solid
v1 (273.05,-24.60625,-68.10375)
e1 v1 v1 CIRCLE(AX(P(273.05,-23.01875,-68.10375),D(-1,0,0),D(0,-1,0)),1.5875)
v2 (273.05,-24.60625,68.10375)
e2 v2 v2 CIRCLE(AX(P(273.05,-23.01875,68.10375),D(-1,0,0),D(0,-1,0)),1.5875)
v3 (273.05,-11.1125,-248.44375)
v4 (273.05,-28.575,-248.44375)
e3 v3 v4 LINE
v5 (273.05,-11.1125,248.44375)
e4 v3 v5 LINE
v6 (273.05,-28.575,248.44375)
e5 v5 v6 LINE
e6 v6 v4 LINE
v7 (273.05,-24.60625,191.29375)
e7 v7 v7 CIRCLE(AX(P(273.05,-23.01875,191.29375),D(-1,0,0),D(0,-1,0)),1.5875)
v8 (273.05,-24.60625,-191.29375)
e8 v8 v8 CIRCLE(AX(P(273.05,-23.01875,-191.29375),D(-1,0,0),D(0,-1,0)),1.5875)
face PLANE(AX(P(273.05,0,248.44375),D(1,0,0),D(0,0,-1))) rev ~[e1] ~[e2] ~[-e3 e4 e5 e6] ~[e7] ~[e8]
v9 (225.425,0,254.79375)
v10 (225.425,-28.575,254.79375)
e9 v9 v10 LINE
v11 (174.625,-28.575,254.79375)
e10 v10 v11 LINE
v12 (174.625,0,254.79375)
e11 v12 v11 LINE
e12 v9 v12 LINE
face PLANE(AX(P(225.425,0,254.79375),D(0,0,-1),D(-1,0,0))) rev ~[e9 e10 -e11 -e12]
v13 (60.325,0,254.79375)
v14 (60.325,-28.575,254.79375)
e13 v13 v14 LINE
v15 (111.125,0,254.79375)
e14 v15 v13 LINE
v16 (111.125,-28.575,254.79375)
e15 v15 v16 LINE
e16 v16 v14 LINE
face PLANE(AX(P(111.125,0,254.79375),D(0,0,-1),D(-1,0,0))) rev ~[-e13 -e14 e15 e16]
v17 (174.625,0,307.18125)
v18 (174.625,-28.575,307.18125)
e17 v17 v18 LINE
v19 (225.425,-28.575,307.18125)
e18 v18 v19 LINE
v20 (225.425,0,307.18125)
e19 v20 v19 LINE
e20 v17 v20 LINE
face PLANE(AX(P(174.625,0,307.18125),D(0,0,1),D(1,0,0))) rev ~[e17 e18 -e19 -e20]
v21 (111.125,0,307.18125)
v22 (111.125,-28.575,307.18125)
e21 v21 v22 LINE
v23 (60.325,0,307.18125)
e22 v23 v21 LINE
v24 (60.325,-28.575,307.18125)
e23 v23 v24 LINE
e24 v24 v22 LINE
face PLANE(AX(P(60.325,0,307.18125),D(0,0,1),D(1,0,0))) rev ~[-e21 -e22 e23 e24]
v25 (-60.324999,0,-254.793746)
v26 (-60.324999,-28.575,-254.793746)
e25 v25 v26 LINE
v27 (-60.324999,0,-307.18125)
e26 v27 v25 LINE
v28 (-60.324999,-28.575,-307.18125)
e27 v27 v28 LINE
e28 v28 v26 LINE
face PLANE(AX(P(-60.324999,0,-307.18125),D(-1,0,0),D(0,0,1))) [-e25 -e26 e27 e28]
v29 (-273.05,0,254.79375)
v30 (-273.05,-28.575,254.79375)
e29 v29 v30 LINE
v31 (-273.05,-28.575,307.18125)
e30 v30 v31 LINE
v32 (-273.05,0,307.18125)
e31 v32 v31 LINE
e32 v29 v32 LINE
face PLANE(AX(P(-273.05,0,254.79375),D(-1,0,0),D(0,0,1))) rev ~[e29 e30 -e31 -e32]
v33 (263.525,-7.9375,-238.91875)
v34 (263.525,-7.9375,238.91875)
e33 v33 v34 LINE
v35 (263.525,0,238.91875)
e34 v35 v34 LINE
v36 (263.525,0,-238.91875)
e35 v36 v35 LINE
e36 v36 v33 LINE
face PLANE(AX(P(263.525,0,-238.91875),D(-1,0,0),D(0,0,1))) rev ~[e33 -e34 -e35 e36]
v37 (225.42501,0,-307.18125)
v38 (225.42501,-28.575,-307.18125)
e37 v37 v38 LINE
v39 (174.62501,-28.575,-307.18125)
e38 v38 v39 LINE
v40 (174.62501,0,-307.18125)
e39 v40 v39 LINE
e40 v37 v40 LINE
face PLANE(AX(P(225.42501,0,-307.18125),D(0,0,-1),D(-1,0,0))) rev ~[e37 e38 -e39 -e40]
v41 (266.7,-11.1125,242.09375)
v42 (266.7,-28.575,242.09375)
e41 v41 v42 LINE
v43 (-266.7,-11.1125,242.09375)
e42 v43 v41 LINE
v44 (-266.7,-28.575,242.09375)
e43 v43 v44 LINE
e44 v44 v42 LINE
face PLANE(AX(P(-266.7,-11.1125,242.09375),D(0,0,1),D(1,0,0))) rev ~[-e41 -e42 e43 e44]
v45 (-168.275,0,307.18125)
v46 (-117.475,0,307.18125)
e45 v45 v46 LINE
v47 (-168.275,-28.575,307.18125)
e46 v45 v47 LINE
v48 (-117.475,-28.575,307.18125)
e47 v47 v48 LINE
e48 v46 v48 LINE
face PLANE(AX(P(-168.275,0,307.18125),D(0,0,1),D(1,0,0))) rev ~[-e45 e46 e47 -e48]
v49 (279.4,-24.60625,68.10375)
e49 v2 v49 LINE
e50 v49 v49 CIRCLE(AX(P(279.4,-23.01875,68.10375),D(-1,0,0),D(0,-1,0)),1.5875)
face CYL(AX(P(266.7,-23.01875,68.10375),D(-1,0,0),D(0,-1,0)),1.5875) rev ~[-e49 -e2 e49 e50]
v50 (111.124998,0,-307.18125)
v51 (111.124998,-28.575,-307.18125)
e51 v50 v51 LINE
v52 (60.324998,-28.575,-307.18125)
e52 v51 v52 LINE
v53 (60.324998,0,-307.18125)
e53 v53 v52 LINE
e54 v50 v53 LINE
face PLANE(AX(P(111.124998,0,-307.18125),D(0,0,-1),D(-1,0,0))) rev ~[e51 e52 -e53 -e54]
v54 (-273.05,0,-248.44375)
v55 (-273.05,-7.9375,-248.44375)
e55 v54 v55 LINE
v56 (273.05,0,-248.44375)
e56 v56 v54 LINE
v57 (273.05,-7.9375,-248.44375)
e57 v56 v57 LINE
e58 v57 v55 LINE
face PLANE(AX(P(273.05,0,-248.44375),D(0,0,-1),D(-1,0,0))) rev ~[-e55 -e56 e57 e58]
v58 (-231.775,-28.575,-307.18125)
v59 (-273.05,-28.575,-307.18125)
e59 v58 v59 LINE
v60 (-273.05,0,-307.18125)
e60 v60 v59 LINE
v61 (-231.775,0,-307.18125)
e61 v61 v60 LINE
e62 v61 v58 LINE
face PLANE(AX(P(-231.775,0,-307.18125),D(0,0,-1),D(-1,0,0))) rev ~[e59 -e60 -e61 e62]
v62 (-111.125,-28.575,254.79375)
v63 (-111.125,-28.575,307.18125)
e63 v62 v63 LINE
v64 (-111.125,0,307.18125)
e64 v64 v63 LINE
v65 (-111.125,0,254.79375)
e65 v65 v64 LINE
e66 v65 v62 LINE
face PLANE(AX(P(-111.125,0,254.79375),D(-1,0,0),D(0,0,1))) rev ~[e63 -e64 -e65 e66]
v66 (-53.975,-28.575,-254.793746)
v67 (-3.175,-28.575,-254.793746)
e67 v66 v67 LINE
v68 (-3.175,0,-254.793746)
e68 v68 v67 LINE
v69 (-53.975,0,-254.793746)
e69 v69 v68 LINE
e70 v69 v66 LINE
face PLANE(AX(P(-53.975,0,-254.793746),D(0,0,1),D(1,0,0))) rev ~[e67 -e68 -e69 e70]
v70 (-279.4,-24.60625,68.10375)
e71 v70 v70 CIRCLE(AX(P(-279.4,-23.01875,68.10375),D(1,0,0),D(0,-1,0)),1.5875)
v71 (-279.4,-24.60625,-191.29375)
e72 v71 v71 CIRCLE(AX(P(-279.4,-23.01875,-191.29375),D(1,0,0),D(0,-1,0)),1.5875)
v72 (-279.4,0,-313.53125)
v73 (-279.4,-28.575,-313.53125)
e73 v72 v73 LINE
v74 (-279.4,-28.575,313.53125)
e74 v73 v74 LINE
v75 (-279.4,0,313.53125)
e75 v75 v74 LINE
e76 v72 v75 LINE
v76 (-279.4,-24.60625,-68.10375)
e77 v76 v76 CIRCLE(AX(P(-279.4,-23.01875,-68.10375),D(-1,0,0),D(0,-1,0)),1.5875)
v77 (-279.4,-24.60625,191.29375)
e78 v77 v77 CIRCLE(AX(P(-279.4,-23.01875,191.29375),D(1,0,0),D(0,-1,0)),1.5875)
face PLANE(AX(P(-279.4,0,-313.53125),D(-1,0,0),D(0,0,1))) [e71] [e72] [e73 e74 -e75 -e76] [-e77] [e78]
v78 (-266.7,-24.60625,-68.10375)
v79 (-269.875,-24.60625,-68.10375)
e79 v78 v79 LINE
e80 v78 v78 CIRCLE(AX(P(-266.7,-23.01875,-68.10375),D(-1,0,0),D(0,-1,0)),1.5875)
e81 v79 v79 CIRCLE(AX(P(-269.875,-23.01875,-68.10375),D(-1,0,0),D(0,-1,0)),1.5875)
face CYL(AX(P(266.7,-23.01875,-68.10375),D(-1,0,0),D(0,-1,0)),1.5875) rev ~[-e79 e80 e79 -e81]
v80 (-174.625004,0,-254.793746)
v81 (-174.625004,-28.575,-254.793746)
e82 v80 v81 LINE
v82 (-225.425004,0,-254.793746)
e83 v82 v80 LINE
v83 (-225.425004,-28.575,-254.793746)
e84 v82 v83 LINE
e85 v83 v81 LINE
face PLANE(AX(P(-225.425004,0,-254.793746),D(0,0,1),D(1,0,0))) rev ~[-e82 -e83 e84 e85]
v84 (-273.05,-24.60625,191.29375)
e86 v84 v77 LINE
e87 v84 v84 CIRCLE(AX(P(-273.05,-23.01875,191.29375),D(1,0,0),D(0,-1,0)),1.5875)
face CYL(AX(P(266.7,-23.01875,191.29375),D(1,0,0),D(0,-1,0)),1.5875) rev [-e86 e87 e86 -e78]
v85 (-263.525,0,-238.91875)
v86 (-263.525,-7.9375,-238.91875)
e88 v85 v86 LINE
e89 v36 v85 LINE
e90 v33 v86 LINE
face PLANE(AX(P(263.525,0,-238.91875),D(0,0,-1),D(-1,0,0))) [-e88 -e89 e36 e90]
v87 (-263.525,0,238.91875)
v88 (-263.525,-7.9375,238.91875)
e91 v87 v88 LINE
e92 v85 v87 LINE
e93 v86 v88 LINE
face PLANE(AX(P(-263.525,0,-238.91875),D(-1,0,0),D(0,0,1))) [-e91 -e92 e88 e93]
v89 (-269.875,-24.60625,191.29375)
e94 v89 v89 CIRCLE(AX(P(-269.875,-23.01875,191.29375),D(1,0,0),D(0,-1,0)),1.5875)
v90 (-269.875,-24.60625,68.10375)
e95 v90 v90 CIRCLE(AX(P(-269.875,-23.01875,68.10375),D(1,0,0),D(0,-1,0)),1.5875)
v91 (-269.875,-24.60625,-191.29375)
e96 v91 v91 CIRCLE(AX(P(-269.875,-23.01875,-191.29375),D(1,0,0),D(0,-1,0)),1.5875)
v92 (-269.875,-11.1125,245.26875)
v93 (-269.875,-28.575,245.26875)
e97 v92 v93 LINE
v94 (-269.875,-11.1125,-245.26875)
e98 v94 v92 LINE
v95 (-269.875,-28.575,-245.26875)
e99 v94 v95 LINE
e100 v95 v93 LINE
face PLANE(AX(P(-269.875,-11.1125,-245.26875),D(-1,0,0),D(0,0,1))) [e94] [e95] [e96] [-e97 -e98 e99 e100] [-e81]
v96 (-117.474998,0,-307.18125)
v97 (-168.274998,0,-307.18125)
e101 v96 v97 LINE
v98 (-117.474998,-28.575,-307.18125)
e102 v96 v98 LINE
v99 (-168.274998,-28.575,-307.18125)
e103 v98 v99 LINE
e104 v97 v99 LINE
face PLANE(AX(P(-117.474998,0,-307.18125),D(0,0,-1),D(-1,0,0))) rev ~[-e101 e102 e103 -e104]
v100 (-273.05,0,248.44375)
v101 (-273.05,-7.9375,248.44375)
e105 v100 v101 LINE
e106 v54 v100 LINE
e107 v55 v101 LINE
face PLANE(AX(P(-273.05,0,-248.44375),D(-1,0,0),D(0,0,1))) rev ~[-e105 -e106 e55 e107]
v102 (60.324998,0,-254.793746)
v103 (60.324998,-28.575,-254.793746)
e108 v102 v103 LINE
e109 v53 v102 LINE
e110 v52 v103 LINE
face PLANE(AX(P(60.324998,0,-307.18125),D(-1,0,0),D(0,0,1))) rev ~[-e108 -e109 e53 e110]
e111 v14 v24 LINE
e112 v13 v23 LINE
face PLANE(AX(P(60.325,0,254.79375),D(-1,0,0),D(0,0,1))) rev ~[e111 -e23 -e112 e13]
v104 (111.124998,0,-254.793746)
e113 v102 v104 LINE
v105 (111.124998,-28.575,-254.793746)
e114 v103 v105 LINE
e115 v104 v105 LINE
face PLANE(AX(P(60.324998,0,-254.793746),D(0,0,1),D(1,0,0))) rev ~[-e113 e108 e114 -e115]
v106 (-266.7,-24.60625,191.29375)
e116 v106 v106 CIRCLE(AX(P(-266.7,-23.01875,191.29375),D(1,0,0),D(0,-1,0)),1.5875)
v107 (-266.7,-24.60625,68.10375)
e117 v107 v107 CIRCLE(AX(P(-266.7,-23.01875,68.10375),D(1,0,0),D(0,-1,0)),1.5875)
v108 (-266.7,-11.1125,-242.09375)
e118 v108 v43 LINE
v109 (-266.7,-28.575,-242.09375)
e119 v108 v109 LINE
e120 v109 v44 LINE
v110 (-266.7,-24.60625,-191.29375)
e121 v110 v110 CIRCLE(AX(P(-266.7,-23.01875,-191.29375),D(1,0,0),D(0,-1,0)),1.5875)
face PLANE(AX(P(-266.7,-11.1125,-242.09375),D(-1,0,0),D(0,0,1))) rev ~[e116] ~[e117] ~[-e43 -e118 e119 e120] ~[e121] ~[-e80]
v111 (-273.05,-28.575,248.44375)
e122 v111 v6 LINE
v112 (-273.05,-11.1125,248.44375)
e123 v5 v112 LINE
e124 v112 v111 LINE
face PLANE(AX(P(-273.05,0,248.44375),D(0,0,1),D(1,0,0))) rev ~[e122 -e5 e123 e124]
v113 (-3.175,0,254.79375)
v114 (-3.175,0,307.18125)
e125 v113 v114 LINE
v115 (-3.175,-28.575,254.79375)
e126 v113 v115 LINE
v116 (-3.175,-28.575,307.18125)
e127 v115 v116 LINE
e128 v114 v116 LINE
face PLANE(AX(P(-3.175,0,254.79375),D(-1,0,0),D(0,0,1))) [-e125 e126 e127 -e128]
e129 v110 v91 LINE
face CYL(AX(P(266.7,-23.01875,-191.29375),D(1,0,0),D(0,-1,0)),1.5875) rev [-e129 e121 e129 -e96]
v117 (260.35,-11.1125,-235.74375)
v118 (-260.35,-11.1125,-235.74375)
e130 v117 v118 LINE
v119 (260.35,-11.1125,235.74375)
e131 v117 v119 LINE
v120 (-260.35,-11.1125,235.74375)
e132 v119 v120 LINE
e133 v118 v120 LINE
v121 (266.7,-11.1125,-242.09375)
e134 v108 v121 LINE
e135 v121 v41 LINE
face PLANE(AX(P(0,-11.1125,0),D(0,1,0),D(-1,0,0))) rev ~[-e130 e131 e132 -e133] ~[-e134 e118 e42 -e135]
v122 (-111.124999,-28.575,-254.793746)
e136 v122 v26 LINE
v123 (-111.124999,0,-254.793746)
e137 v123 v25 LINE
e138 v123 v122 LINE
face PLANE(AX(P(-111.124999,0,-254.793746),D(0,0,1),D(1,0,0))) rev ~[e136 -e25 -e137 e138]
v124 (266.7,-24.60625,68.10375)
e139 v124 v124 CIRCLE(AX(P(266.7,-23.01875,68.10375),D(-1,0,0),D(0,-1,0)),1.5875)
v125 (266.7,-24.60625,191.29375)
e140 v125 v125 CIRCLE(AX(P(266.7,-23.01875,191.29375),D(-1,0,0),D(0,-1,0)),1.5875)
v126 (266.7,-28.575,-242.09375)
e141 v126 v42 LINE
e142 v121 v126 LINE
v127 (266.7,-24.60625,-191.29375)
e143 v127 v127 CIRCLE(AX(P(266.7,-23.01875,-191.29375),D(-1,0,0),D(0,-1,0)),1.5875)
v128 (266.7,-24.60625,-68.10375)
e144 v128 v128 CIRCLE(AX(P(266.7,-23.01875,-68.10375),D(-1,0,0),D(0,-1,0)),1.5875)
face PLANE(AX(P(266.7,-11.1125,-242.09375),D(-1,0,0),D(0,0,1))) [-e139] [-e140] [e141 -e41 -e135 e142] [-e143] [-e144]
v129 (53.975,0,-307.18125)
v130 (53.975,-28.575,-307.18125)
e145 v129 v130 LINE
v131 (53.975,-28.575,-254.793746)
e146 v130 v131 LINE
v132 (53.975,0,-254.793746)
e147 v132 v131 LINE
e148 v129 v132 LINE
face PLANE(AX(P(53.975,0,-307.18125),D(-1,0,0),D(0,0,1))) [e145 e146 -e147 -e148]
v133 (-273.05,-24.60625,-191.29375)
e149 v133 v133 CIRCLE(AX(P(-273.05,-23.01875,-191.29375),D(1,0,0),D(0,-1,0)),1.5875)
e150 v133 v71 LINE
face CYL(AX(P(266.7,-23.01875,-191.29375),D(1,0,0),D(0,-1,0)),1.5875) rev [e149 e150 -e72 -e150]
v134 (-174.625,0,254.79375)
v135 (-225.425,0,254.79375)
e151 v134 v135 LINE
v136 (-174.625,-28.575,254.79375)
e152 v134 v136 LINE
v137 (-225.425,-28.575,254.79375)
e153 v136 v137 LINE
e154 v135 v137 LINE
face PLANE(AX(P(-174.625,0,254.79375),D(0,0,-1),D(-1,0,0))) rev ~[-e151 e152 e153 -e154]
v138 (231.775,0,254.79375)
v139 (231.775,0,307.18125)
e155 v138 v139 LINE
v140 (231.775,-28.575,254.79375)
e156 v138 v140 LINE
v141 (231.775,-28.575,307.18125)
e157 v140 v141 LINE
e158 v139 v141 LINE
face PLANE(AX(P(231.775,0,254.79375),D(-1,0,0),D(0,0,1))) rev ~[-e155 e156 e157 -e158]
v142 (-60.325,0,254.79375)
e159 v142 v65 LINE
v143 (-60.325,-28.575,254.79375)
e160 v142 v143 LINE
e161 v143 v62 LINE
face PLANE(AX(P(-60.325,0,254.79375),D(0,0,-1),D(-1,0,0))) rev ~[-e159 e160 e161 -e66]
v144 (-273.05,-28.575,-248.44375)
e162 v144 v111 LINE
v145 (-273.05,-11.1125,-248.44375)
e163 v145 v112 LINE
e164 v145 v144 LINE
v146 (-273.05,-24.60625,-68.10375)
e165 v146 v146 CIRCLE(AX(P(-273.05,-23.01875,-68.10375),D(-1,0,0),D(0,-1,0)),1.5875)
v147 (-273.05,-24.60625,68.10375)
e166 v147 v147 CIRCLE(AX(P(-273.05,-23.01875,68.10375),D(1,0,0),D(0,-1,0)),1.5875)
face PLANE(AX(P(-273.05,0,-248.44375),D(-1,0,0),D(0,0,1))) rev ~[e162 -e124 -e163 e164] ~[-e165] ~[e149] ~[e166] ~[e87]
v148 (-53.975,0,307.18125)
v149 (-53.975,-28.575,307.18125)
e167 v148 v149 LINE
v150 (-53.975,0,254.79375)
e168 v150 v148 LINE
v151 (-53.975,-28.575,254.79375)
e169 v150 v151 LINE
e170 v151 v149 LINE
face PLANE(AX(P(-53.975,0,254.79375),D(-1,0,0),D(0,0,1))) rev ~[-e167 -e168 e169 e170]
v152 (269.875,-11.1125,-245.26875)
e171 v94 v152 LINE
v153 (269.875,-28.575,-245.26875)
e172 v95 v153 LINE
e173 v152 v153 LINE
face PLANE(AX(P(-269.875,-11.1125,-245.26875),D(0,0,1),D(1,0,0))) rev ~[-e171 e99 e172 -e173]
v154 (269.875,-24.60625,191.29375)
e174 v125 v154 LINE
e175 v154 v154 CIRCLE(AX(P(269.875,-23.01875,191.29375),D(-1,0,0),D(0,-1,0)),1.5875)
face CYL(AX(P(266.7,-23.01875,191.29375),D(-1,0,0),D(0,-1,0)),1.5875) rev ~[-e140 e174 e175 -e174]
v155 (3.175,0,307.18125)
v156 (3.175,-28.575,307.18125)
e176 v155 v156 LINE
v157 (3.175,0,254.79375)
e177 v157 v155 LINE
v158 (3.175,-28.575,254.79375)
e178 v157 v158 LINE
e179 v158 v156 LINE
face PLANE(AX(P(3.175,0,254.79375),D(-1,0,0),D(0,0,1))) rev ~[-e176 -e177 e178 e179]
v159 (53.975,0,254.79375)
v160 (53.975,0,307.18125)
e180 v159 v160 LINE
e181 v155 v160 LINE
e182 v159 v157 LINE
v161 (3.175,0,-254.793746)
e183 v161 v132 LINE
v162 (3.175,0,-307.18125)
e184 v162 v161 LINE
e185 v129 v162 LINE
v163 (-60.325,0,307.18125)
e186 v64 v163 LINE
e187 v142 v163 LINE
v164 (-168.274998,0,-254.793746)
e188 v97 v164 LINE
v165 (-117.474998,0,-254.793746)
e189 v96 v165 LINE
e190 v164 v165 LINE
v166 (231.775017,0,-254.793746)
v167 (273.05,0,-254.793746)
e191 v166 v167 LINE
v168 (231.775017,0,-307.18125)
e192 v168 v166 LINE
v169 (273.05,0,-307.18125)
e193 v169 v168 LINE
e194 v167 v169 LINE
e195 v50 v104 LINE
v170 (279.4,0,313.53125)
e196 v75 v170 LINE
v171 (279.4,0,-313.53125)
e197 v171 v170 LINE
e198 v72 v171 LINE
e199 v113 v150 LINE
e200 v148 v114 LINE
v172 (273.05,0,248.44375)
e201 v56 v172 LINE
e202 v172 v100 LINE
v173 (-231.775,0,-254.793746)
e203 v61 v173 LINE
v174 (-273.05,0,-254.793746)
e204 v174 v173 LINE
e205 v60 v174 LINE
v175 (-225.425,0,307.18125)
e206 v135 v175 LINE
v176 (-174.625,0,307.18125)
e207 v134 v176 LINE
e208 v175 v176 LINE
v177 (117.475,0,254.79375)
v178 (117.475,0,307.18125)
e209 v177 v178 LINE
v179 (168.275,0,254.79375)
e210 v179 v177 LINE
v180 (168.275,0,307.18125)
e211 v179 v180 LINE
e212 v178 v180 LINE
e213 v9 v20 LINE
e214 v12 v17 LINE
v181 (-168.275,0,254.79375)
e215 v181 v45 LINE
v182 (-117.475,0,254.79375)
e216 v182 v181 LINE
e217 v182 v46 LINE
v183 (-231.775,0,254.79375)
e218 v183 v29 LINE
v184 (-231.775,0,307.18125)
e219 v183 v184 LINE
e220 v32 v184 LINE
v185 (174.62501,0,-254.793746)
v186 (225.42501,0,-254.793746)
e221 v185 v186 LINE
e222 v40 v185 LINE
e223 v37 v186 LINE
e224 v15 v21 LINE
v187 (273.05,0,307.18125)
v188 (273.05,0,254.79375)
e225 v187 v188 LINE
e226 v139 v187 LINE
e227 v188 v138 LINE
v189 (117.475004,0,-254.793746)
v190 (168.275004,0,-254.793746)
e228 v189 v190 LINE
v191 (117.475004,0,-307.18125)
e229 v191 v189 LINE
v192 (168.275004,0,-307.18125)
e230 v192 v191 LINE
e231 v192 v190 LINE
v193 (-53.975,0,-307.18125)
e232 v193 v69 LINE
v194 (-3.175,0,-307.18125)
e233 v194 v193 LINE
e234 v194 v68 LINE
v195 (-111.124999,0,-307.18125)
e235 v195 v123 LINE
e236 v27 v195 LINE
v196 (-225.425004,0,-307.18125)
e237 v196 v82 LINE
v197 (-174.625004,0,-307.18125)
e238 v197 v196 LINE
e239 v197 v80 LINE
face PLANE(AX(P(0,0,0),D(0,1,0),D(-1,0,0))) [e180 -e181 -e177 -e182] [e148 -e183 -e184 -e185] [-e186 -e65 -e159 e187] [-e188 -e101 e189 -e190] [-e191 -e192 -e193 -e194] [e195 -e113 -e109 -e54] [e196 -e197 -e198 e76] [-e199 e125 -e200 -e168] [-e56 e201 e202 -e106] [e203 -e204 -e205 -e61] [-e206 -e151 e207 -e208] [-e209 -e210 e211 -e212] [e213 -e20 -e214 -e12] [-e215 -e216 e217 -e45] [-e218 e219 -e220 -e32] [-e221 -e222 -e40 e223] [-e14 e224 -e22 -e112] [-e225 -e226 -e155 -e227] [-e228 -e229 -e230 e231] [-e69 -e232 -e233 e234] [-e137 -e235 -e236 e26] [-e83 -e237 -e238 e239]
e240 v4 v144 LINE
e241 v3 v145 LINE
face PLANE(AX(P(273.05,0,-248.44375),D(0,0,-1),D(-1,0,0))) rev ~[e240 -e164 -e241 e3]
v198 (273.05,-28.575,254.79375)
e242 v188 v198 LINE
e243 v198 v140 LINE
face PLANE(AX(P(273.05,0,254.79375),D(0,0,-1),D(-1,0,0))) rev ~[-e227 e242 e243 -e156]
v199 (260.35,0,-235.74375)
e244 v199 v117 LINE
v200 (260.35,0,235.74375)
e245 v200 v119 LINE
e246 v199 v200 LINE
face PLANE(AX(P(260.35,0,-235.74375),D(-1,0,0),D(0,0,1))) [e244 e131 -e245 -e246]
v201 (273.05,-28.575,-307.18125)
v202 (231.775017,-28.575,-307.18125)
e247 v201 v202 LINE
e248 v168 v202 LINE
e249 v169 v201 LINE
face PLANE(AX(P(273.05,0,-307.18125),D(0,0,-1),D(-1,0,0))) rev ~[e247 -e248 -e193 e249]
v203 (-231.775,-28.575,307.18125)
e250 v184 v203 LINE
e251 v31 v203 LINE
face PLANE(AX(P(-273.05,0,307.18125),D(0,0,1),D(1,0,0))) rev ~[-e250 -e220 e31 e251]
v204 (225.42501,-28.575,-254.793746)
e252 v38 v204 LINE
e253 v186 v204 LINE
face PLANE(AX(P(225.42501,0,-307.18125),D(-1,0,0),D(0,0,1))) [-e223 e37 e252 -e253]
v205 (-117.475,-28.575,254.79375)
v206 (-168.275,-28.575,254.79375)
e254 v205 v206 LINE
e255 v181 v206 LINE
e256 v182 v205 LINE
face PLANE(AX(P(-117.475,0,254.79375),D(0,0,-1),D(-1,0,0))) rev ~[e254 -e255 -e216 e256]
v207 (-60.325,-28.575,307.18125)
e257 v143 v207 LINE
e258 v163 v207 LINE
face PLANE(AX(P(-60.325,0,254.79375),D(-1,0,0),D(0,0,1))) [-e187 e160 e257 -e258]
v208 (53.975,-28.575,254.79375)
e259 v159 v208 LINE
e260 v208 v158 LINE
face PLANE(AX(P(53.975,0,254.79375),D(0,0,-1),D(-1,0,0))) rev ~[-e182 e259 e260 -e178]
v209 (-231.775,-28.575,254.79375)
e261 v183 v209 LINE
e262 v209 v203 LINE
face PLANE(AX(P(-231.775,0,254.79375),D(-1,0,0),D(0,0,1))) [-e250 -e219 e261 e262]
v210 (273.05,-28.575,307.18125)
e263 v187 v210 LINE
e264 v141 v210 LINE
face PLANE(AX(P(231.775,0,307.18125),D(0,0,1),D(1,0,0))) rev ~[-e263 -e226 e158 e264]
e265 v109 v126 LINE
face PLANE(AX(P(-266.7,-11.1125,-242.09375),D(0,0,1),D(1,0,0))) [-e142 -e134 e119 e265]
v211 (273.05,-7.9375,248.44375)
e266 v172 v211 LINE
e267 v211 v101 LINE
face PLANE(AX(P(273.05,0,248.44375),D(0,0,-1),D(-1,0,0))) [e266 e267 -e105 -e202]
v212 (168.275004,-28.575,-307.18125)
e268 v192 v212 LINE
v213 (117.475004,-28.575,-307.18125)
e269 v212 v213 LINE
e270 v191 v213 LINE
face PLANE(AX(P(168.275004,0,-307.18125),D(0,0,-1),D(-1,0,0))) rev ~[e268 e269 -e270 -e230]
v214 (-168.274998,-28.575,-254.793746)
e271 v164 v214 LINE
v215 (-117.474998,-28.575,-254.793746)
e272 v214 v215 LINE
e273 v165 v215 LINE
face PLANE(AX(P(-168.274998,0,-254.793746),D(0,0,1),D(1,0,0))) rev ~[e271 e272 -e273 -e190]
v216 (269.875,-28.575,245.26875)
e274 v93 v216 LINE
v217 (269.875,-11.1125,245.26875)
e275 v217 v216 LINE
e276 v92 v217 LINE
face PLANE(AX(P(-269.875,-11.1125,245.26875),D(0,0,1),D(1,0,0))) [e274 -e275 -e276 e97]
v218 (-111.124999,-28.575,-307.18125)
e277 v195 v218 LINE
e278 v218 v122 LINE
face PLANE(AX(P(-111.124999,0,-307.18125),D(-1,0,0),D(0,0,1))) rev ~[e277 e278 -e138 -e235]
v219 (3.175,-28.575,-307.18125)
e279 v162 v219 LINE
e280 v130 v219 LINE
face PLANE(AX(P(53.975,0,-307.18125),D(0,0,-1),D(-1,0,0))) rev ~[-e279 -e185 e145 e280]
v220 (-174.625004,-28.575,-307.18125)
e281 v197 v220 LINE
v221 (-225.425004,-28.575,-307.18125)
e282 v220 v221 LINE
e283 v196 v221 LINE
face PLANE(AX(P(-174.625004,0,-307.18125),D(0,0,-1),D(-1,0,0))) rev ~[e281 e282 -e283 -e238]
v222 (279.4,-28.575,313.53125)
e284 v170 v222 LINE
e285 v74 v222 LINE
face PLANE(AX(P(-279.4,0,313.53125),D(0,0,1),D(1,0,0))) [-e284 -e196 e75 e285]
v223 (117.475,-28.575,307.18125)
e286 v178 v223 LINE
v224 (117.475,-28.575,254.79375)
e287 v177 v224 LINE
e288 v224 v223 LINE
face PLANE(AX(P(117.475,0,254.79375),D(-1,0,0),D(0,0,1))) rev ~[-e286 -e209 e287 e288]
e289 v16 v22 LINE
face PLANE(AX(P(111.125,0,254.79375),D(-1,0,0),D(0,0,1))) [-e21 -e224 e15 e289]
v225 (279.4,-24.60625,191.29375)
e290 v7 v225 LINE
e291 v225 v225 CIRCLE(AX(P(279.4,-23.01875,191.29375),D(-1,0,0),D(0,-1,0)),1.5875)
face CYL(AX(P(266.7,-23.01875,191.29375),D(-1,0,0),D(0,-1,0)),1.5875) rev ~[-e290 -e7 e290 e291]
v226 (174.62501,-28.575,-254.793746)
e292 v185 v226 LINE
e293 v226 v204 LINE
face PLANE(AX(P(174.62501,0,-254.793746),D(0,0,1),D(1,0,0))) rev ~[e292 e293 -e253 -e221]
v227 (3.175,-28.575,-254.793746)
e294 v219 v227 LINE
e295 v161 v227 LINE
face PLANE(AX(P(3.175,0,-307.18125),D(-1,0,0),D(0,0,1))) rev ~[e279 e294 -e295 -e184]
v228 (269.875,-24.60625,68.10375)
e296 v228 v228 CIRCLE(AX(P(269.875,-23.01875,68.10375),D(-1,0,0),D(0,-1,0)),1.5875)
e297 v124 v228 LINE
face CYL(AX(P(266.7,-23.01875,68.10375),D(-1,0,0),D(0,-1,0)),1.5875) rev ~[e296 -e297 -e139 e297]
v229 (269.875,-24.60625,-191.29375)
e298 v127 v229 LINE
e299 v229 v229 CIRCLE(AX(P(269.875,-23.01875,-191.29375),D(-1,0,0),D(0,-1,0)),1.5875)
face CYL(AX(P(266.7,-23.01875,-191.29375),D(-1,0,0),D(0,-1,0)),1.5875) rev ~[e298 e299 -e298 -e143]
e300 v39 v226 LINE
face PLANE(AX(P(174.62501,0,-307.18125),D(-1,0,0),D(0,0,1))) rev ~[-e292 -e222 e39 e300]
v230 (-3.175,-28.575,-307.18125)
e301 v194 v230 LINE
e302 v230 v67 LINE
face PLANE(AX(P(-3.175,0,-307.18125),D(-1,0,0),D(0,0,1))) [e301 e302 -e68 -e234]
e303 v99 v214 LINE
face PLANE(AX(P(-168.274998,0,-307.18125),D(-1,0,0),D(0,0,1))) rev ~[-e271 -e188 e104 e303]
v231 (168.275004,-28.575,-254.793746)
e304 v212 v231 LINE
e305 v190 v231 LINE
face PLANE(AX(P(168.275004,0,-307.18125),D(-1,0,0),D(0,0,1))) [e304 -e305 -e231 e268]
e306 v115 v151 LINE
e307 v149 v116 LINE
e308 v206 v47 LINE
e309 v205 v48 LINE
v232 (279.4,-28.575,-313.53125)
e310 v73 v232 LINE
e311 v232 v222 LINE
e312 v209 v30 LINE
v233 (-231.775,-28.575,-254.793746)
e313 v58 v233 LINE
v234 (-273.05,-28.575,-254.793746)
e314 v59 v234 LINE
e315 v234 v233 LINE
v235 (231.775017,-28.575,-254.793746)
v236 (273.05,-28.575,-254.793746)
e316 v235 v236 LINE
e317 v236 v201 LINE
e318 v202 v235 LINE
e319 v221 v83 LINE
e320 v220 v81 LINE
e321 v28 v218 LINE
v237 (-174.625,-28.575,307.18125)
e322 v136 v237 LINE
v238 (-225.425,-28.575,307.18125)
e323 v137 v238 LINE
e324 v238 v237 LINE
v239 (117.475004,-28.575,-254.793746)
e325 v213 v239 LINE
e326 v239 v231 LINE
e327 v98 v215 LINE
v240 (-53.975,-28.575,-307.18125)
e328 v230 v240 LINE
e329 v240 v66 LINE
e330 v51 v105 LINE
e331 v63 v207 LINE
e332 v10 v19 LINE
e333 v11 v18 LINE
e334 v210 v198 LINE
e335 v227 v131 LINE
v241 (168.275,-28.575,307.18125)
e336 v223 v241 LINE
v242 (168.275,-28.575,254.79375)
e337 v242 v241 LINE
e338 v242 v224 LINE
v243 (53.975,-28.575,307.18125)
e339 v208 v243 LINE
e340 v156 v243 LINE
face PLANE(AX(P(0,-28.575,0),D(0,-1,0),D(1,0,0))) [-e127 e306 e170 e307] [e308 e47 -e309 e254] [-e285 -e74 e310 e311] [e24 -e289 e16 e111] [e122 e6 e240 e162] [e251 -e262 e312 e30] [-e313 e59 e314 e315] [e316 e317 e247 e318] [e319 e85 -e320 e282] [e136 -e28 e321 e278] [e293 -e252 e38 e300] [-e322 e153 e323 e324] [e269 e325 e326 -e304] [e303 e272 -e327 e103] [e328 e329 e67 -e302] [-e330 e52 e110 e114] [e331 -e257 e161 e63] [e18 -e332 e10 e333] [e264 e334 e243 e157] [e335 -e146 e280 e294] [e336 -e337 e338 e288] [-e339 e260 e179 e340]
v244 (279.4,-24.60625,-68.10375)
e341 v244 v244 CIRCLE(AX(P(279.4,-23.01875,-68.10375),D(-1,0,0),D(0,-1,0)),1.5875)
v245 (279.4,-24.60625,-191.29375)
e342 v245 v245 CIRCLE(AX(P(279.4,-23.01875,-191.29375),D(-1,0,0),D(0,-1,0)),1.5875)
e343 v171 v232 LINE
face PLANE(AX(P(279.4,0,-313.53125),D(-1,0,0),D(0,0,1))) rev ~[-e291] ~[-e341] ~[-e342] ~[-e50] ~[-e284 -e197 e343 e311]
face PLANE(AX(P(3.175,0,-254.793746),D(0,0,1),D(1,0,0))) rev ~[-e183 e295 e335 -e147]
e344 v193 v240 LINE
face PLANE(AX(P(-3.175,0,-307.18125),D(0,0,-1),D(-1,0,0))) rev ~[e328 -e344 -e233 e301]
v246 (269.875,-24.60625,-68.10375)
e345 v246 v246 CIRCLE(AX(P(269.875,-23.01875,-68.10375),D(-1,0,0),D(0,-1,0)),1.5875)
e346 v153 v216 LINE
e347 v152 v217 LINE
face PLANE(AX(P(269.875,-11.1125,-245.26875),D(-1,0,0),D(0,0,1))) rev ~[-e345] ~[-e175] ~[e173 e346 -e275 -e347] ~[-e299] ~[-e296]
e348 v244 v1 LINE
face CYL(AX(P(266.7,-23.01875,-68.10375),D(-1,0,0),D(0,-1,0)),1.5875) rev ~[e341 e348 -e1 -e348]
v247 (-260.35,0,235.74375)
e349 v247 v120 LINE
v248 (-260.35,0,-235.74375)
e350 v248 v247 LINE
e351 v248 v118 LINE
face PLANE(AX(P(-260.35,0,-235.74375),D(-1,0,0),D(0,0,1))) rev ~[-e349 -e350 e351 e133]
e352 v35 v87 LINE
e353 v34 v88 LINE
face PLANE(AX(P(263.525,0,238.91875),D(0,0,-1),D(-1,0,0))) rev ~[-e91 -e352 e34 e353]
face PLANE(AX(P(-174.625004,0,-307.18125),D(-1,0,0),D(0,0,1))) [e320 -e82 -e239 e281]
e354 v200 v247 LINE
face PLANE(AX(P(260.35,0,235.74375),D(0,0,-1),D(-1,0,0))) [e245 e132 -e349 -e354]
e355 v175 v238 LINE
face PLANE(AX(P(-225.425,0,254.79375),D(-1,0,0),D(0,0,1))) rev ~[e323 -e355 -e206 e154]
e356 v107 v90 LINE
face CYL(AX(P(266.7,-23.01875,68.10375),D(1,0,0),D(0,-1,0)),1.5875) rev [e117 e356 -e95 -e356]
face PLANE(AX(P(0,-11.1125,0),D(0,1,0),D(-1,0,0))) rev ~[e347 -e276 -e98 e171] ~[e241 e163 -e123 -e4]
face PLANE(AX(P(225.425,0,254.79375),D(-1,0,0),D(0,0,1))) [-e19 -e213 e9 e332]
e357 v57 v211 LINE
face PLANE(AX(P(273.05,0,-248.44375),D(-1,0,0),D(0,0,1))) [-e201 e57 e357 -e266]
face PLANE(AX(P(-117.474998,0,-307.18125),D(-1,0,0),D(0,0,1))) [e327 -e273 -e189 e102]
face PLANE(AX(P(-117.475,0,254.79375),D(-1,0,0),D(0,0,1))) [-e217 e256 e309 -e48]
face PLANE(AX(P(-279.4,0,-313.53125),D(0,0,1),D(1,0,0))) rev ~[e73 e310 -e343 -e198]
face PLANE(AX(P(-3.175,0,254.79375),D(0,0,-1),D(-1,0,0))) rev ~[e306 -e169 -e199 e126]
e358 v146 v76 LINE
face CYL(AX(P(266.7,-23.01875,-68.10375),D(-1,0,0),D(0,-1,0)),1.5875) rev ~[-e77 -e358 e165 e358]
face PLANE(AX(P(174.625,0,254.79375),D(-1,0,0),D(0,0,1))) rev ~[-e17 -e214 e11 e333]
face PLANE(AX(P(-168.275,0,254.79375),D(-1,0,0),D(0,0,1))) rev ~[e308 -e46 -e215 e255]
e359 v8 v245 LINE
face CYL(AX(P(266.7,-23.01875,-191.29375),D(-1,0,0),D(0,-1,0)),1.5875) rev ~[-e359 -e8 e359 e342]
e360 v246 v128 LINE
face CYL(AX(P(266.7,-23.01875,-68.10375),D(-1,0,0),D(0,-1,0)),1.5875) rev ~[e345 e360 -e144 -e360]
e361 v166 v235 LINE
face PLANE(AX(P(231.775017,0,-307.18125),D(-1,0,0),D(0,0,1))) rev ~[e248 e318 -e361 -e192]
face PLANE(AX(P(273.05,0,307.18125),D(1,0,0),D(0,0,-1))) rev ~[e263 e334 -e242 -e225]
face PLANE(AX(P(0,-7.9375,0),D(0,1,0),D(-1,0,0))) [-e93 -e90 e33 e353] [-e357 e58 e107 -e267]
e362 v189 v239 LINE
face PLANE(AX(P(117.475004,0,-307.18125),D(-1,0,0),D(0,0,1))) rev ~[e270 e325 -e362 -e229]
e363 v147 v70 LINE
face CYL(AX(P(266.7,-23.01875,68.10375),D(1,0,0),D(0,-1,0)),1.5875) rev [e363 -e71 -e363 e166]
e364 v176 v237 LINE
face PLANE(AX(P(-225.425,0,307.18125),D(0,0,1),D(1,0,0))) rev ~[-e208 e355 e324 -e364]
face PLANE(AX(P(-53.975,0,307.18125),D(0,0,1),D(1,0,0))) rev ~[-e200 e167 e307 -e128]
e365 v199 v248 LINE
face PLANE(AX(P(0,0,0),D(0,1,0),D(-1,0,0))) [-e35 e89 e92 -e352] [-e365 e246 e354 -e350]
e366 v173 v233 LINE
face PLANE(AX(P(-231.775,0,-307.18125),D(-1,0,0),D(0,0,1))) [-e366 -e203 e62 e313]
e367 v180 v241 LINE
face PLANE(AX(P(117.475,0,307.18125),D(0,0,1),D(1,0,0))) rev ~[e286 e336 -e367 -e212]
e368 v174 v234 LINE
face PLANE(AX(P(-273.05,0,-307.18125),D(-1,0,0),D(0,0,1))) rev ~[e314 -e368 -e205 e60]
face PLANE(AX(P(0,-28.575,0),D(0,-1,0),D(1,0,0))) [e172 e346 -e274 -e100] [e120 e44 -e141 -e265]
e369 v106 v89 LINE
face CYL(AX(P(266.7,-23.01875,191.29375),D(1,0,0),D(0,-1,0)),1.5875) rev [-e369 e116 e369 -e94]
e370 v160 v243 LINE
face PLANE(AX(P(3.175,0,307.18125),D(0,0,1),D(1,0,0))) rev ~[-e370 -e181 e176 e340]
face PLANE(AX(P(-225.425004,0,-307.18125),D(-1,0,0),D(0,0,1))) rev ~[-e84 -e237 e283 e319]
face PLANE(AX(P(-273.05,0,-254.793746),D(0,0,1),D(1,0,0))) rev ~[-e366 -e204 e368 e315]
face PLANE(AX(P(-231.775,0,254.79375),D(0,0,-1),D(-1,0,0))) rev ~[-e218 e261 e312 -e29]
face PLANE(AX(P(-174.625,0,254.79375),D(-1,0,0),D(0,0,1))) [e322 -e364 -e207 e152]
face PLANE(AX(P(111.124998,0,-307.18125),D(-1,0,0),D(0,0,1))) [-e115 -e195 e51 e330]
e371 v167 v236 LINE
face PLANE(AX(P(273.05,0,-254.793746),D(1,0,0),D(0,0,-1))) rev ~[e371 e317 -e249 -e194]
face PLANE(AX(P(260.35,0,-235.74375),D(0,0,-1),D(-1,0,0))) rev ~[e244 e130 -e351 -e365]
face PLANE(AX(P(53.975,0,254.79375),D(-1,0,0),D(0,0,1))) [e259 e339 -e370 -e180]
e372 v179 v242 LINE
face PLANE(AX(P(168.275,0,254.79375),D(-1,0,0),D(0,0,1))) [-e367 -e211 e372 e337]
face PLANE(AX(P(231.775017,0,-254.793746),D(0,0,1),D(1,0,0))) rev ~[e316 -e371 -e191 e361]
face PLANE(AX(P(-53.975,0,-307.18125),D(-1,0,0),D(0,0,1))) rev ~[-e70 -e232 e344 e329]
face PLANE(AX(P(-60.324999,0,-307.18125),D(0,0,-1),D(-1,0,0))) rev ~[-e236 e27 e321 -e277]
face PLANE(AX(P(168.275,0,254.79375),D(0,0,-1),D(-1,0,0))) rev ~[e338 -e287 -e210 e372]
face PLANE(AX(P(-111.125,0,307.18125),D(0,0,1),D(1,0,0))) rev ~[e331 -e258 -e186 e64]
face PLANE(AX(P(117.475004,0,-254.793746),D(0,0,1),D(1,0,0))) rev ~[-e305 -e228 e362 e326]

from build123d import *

# Parameters (mm, degrees)
F0_W     = 558.8
F0_H     = 627.0625
F0_W_2   = 6.35
F0_H_2   = 52.3875
F0_W_3   = 6.3499988437
F0_H_3   = 52.3875042677
F0_W_4   = 6.3500062943
F0_W_5   = 6.3499960899
F0_W_6   = 6.349999775
F0_W_7   = 6.3499979123
F1_DEPTH = 28.575
F2_W     = 546.1
F2_H     = 496.8875
F2_W_2   = 527.05
F2_H_2   = 477.8375
F2_W_3   = 520.7
F2_H_3   = 471.4875
F3_DEPTH = 11.1125
F4_DEPTH = 7.9375
F5_W     = 539.75
F5_H     = 490.5375
F5_W_2   = 533.4
F5_H_2   = 484.1875
F6_DEPTH = 17.4625
F7_R     = 1.5875
F8_DEPTH = 762


with BuildPart() as f1:
    # F0 (on Front) → F1 (new body)
    with BuildSketch(Plane.XZ):
        Rectangle(F0_W, F0_H)
        Polygon((-273.05, 254.79375), (-273.05, 307.18125), (-231.775, 307.18125), (-225.425, 307.18125), (-174.625, 307.18125), (-168.275, 307.18125), (-117.475, 307.18125), (-111.125, 307.18125), (-60.325, 307.18125), (-53.975, 307.18125), (-3.175, 307.18125), (3.175, 307.18125), (53.975, 307.18125), (60.325, 307.18125), (111.125, 307.18125), (117.475, 307.18125), (168.275, 307.18125), (174.625, 307.18125), (225.425, 307.18125), (231.775, 307.18125), (273.05, 307.18125), (273.05, 254.79375), (273.05, 248.44375), (273.05, -248.44375), (273.05, -254.7937457323), (273.05, -307.18125), (231.7750166416, -307.18125), (225.4250103474, -307.18125), (174.6250103474, -307.18125), (168.2750040531, -307.18125), (117.4750040531, -307.18125), (111.1249977589, -307.18125), (60.3249977589, -307.18125), (53.9749998465, -307.18125), (3.1749998465, -307.18125), (-3.1749999285, -307.18125), (-53.9749999285, -307.18125), (-60.3249987721, -307.18125), (-111.1249987721, -307.18125), (-117.4749976158, -307.18125), (-168.2749976158, -307.18125), (-174.6250039101, -307.18125), (-225.4250039101, -307.18125), (-231.775, -307.18125), (-273.05, -307.18125), (-273.05, -254.7937457323), (-273.05, -248.44375), (-273.05, 248.44375), align=None, mode=Mode.SUBTRACT)
        with Locations((-228.6, 280.9875)):
            Rectangle(F0_W_2, F0_H_2)
        with Locations((-171.45, 280.9875)):
            Rectangle(F0_W_2, F0_H_2)
        with Locations((-114.3, 280.9875)):
            Rectangle(F0_W_2, F0_H_2)
        with Locations((-57.15, 280.9875)):
            Rectangle(F0_W_2, F0_H_2)
        with Locations((0, 280.9875)):
            Rectangle(F0_W_2, F0_H_2)
        with Locations((57.15, 280.9875)):
            Rectangle(F0_W_2, F0_H_2)
        Polygon((-231.775, 254.79375), (-273.05, 254.79375), (-273.05, 248.44375), (273.05, 248.44375), (273.05, 254.79375), (231.775, 254.79375), (225.425, 254.79375), (174.625, 254.79375), (168.275, 254.79375), (117.475, 254.79375), (111.125, 254.79375), (60.325, 254.79375), (53.975, 254.79375), (3.175, 254.79375), (-3.175, 254.79375), (-53.975, 254.79375), (-60.325, 254.79375), (-111.125, 254.79375), (-117.475, 254.79375), (-168.275, 254.79375), (-174.625, 254.79375), (-225.425, 254.79375), align=None)
        with Locations((114.3, 280.9875)):
            Rectangle(F0_W_2, F0_H_2)
        with Locations((171.45, 280.9875)):
            Rectangle(F0_W_2, F0_H_2)
        Polygon((273.05, -248.44375), (-273.05, -248.44375), (-273.05, -254.7937457323), (-231.775, -254.7937457323), (-225.4250039101, -254.7937457323), (-174.6250039101, -254.7937457323), (-168.2749976158, -254.7937457323), (-117.4749976158, -254.7937457323), (-111.1249987721, -254.7937457323), (-60.3249987721, -254.7937457323), (-53.9749999285, -254.7937457323), (-3.1749999285, -254.7937457323), (3.1749998465, -254.7937457323), (53.9749998465, -254.7937457323), (60.3249977589, -254.7937457323), (111.1249977589, -254.7937457323), (117.4750040531, -254.7937457323), (168.2750040531, -254.7937457323), (174.6250103474, -254.7937457323), (225.4250103474, -254.7937457323), (231.7750166416, -254.7937457323), (273.05, -254.7937457323), align=None)
        with Locations((-114.299998194, -280.9874978662)):
            Rectangle(F0_W_3, F0_H_3)
        with Locations((-171.4500007629, -280.9874978662)):
            Rectangle(F0_W_4, F0_H_3)
        with Locations((-228.600001955, -280.9874978662)):
            Rectangle(F0_W_5, F0_H_3)
        with Locations((-57.1499993503, -280.9874978662)):
            Rectangle(F0_W_3, F0_H_3)
        with Locations((-4.1e-08, -280.9874978662)):
            Rectangle(F0_W_6, F0_H_3)
        with Locations((57.1499988027, -280.9874978662)):
            Rectangle(F0_W_7, F0_H_3)
        with Locations((114.300000906, -280.9874978662)):
            Rectangle(F0_W_4, F0_H_3)
        with Locations((171.4500072002, -280.9874978662)):
            Rectangle(F0_W_4, F0_H_3)
        with Locations((228.6000134945, -280.9874978662)):
            Rectangle(F0_W_4, F0_H_3)
        with Locations((228.6, 280.9875)):
            Rectangle(F0_W_2, F0_H_2)
    extrude(amount=F1_DEPTH)

    # F2 (on face) → F3 (join)
    with BuildSketch(Plane(origin=(0, 0, 0), x_dir=(-1, 0, 0), z_dir=(0, 1, 0))):
        Rectangle(F2_W, F2_H)
        Rectangle(F2_W_2, F2_H_2, mode=Mode.SUBTRACT)
        Rectangle(F2_W_2, F2_H_2)
        Rectangle(F2_W_3, F2_H_3, mode=Mode.SUBTRACT)
    extrude(amount=-F3_DEPTH)

    # F2 (on face) → F4 (cut)
    with BuildSketch(Plane(origin=(0, 0, 0), x_dir=(-1, 0, 0), z_dir=(0, 1, 0))):
        Rectangle(F2_W, F2_H)
        Rectangle(F2_W_2, F2_H_2, mode=Mode.SUBTRACT)
    extrude(amount=-F4_DEPTH, mode=Mode.SUBTRACT)

    # F5 (on face) → F6 (join)
    with BuildSketch(Plane.XZ.offset(11.1125)):
        Rectangle(F5_W, F5_H)
        Rectangle(F5_W_2, F5_H_2, mode=Mode.SUBTRACT)
    extrude(amount=F6_DEPTH)

    # F7 (on face) → F8 (cut, symmetric)
    with BuildSketch(Plane(origin=(266.7, 0, 0), x_dir=(0, -1, 0), z_dir=(-1, 0, 0))):
        with Locations((23.01875, 191.29375)):
            Circle(F7_R)
        with Locations((23.01875, 68.10375)):
            Circle(F7_R)
        with Locations((23.01875, -191.29375)):
            Circle(F7_R)
        with Locations((23.01875, -68.10375)):
            Circle(F7_R)
    extrude(amount=F8_DEPTH, both=True, mode=Mode.SUBTRACT)


solid = f1.part
